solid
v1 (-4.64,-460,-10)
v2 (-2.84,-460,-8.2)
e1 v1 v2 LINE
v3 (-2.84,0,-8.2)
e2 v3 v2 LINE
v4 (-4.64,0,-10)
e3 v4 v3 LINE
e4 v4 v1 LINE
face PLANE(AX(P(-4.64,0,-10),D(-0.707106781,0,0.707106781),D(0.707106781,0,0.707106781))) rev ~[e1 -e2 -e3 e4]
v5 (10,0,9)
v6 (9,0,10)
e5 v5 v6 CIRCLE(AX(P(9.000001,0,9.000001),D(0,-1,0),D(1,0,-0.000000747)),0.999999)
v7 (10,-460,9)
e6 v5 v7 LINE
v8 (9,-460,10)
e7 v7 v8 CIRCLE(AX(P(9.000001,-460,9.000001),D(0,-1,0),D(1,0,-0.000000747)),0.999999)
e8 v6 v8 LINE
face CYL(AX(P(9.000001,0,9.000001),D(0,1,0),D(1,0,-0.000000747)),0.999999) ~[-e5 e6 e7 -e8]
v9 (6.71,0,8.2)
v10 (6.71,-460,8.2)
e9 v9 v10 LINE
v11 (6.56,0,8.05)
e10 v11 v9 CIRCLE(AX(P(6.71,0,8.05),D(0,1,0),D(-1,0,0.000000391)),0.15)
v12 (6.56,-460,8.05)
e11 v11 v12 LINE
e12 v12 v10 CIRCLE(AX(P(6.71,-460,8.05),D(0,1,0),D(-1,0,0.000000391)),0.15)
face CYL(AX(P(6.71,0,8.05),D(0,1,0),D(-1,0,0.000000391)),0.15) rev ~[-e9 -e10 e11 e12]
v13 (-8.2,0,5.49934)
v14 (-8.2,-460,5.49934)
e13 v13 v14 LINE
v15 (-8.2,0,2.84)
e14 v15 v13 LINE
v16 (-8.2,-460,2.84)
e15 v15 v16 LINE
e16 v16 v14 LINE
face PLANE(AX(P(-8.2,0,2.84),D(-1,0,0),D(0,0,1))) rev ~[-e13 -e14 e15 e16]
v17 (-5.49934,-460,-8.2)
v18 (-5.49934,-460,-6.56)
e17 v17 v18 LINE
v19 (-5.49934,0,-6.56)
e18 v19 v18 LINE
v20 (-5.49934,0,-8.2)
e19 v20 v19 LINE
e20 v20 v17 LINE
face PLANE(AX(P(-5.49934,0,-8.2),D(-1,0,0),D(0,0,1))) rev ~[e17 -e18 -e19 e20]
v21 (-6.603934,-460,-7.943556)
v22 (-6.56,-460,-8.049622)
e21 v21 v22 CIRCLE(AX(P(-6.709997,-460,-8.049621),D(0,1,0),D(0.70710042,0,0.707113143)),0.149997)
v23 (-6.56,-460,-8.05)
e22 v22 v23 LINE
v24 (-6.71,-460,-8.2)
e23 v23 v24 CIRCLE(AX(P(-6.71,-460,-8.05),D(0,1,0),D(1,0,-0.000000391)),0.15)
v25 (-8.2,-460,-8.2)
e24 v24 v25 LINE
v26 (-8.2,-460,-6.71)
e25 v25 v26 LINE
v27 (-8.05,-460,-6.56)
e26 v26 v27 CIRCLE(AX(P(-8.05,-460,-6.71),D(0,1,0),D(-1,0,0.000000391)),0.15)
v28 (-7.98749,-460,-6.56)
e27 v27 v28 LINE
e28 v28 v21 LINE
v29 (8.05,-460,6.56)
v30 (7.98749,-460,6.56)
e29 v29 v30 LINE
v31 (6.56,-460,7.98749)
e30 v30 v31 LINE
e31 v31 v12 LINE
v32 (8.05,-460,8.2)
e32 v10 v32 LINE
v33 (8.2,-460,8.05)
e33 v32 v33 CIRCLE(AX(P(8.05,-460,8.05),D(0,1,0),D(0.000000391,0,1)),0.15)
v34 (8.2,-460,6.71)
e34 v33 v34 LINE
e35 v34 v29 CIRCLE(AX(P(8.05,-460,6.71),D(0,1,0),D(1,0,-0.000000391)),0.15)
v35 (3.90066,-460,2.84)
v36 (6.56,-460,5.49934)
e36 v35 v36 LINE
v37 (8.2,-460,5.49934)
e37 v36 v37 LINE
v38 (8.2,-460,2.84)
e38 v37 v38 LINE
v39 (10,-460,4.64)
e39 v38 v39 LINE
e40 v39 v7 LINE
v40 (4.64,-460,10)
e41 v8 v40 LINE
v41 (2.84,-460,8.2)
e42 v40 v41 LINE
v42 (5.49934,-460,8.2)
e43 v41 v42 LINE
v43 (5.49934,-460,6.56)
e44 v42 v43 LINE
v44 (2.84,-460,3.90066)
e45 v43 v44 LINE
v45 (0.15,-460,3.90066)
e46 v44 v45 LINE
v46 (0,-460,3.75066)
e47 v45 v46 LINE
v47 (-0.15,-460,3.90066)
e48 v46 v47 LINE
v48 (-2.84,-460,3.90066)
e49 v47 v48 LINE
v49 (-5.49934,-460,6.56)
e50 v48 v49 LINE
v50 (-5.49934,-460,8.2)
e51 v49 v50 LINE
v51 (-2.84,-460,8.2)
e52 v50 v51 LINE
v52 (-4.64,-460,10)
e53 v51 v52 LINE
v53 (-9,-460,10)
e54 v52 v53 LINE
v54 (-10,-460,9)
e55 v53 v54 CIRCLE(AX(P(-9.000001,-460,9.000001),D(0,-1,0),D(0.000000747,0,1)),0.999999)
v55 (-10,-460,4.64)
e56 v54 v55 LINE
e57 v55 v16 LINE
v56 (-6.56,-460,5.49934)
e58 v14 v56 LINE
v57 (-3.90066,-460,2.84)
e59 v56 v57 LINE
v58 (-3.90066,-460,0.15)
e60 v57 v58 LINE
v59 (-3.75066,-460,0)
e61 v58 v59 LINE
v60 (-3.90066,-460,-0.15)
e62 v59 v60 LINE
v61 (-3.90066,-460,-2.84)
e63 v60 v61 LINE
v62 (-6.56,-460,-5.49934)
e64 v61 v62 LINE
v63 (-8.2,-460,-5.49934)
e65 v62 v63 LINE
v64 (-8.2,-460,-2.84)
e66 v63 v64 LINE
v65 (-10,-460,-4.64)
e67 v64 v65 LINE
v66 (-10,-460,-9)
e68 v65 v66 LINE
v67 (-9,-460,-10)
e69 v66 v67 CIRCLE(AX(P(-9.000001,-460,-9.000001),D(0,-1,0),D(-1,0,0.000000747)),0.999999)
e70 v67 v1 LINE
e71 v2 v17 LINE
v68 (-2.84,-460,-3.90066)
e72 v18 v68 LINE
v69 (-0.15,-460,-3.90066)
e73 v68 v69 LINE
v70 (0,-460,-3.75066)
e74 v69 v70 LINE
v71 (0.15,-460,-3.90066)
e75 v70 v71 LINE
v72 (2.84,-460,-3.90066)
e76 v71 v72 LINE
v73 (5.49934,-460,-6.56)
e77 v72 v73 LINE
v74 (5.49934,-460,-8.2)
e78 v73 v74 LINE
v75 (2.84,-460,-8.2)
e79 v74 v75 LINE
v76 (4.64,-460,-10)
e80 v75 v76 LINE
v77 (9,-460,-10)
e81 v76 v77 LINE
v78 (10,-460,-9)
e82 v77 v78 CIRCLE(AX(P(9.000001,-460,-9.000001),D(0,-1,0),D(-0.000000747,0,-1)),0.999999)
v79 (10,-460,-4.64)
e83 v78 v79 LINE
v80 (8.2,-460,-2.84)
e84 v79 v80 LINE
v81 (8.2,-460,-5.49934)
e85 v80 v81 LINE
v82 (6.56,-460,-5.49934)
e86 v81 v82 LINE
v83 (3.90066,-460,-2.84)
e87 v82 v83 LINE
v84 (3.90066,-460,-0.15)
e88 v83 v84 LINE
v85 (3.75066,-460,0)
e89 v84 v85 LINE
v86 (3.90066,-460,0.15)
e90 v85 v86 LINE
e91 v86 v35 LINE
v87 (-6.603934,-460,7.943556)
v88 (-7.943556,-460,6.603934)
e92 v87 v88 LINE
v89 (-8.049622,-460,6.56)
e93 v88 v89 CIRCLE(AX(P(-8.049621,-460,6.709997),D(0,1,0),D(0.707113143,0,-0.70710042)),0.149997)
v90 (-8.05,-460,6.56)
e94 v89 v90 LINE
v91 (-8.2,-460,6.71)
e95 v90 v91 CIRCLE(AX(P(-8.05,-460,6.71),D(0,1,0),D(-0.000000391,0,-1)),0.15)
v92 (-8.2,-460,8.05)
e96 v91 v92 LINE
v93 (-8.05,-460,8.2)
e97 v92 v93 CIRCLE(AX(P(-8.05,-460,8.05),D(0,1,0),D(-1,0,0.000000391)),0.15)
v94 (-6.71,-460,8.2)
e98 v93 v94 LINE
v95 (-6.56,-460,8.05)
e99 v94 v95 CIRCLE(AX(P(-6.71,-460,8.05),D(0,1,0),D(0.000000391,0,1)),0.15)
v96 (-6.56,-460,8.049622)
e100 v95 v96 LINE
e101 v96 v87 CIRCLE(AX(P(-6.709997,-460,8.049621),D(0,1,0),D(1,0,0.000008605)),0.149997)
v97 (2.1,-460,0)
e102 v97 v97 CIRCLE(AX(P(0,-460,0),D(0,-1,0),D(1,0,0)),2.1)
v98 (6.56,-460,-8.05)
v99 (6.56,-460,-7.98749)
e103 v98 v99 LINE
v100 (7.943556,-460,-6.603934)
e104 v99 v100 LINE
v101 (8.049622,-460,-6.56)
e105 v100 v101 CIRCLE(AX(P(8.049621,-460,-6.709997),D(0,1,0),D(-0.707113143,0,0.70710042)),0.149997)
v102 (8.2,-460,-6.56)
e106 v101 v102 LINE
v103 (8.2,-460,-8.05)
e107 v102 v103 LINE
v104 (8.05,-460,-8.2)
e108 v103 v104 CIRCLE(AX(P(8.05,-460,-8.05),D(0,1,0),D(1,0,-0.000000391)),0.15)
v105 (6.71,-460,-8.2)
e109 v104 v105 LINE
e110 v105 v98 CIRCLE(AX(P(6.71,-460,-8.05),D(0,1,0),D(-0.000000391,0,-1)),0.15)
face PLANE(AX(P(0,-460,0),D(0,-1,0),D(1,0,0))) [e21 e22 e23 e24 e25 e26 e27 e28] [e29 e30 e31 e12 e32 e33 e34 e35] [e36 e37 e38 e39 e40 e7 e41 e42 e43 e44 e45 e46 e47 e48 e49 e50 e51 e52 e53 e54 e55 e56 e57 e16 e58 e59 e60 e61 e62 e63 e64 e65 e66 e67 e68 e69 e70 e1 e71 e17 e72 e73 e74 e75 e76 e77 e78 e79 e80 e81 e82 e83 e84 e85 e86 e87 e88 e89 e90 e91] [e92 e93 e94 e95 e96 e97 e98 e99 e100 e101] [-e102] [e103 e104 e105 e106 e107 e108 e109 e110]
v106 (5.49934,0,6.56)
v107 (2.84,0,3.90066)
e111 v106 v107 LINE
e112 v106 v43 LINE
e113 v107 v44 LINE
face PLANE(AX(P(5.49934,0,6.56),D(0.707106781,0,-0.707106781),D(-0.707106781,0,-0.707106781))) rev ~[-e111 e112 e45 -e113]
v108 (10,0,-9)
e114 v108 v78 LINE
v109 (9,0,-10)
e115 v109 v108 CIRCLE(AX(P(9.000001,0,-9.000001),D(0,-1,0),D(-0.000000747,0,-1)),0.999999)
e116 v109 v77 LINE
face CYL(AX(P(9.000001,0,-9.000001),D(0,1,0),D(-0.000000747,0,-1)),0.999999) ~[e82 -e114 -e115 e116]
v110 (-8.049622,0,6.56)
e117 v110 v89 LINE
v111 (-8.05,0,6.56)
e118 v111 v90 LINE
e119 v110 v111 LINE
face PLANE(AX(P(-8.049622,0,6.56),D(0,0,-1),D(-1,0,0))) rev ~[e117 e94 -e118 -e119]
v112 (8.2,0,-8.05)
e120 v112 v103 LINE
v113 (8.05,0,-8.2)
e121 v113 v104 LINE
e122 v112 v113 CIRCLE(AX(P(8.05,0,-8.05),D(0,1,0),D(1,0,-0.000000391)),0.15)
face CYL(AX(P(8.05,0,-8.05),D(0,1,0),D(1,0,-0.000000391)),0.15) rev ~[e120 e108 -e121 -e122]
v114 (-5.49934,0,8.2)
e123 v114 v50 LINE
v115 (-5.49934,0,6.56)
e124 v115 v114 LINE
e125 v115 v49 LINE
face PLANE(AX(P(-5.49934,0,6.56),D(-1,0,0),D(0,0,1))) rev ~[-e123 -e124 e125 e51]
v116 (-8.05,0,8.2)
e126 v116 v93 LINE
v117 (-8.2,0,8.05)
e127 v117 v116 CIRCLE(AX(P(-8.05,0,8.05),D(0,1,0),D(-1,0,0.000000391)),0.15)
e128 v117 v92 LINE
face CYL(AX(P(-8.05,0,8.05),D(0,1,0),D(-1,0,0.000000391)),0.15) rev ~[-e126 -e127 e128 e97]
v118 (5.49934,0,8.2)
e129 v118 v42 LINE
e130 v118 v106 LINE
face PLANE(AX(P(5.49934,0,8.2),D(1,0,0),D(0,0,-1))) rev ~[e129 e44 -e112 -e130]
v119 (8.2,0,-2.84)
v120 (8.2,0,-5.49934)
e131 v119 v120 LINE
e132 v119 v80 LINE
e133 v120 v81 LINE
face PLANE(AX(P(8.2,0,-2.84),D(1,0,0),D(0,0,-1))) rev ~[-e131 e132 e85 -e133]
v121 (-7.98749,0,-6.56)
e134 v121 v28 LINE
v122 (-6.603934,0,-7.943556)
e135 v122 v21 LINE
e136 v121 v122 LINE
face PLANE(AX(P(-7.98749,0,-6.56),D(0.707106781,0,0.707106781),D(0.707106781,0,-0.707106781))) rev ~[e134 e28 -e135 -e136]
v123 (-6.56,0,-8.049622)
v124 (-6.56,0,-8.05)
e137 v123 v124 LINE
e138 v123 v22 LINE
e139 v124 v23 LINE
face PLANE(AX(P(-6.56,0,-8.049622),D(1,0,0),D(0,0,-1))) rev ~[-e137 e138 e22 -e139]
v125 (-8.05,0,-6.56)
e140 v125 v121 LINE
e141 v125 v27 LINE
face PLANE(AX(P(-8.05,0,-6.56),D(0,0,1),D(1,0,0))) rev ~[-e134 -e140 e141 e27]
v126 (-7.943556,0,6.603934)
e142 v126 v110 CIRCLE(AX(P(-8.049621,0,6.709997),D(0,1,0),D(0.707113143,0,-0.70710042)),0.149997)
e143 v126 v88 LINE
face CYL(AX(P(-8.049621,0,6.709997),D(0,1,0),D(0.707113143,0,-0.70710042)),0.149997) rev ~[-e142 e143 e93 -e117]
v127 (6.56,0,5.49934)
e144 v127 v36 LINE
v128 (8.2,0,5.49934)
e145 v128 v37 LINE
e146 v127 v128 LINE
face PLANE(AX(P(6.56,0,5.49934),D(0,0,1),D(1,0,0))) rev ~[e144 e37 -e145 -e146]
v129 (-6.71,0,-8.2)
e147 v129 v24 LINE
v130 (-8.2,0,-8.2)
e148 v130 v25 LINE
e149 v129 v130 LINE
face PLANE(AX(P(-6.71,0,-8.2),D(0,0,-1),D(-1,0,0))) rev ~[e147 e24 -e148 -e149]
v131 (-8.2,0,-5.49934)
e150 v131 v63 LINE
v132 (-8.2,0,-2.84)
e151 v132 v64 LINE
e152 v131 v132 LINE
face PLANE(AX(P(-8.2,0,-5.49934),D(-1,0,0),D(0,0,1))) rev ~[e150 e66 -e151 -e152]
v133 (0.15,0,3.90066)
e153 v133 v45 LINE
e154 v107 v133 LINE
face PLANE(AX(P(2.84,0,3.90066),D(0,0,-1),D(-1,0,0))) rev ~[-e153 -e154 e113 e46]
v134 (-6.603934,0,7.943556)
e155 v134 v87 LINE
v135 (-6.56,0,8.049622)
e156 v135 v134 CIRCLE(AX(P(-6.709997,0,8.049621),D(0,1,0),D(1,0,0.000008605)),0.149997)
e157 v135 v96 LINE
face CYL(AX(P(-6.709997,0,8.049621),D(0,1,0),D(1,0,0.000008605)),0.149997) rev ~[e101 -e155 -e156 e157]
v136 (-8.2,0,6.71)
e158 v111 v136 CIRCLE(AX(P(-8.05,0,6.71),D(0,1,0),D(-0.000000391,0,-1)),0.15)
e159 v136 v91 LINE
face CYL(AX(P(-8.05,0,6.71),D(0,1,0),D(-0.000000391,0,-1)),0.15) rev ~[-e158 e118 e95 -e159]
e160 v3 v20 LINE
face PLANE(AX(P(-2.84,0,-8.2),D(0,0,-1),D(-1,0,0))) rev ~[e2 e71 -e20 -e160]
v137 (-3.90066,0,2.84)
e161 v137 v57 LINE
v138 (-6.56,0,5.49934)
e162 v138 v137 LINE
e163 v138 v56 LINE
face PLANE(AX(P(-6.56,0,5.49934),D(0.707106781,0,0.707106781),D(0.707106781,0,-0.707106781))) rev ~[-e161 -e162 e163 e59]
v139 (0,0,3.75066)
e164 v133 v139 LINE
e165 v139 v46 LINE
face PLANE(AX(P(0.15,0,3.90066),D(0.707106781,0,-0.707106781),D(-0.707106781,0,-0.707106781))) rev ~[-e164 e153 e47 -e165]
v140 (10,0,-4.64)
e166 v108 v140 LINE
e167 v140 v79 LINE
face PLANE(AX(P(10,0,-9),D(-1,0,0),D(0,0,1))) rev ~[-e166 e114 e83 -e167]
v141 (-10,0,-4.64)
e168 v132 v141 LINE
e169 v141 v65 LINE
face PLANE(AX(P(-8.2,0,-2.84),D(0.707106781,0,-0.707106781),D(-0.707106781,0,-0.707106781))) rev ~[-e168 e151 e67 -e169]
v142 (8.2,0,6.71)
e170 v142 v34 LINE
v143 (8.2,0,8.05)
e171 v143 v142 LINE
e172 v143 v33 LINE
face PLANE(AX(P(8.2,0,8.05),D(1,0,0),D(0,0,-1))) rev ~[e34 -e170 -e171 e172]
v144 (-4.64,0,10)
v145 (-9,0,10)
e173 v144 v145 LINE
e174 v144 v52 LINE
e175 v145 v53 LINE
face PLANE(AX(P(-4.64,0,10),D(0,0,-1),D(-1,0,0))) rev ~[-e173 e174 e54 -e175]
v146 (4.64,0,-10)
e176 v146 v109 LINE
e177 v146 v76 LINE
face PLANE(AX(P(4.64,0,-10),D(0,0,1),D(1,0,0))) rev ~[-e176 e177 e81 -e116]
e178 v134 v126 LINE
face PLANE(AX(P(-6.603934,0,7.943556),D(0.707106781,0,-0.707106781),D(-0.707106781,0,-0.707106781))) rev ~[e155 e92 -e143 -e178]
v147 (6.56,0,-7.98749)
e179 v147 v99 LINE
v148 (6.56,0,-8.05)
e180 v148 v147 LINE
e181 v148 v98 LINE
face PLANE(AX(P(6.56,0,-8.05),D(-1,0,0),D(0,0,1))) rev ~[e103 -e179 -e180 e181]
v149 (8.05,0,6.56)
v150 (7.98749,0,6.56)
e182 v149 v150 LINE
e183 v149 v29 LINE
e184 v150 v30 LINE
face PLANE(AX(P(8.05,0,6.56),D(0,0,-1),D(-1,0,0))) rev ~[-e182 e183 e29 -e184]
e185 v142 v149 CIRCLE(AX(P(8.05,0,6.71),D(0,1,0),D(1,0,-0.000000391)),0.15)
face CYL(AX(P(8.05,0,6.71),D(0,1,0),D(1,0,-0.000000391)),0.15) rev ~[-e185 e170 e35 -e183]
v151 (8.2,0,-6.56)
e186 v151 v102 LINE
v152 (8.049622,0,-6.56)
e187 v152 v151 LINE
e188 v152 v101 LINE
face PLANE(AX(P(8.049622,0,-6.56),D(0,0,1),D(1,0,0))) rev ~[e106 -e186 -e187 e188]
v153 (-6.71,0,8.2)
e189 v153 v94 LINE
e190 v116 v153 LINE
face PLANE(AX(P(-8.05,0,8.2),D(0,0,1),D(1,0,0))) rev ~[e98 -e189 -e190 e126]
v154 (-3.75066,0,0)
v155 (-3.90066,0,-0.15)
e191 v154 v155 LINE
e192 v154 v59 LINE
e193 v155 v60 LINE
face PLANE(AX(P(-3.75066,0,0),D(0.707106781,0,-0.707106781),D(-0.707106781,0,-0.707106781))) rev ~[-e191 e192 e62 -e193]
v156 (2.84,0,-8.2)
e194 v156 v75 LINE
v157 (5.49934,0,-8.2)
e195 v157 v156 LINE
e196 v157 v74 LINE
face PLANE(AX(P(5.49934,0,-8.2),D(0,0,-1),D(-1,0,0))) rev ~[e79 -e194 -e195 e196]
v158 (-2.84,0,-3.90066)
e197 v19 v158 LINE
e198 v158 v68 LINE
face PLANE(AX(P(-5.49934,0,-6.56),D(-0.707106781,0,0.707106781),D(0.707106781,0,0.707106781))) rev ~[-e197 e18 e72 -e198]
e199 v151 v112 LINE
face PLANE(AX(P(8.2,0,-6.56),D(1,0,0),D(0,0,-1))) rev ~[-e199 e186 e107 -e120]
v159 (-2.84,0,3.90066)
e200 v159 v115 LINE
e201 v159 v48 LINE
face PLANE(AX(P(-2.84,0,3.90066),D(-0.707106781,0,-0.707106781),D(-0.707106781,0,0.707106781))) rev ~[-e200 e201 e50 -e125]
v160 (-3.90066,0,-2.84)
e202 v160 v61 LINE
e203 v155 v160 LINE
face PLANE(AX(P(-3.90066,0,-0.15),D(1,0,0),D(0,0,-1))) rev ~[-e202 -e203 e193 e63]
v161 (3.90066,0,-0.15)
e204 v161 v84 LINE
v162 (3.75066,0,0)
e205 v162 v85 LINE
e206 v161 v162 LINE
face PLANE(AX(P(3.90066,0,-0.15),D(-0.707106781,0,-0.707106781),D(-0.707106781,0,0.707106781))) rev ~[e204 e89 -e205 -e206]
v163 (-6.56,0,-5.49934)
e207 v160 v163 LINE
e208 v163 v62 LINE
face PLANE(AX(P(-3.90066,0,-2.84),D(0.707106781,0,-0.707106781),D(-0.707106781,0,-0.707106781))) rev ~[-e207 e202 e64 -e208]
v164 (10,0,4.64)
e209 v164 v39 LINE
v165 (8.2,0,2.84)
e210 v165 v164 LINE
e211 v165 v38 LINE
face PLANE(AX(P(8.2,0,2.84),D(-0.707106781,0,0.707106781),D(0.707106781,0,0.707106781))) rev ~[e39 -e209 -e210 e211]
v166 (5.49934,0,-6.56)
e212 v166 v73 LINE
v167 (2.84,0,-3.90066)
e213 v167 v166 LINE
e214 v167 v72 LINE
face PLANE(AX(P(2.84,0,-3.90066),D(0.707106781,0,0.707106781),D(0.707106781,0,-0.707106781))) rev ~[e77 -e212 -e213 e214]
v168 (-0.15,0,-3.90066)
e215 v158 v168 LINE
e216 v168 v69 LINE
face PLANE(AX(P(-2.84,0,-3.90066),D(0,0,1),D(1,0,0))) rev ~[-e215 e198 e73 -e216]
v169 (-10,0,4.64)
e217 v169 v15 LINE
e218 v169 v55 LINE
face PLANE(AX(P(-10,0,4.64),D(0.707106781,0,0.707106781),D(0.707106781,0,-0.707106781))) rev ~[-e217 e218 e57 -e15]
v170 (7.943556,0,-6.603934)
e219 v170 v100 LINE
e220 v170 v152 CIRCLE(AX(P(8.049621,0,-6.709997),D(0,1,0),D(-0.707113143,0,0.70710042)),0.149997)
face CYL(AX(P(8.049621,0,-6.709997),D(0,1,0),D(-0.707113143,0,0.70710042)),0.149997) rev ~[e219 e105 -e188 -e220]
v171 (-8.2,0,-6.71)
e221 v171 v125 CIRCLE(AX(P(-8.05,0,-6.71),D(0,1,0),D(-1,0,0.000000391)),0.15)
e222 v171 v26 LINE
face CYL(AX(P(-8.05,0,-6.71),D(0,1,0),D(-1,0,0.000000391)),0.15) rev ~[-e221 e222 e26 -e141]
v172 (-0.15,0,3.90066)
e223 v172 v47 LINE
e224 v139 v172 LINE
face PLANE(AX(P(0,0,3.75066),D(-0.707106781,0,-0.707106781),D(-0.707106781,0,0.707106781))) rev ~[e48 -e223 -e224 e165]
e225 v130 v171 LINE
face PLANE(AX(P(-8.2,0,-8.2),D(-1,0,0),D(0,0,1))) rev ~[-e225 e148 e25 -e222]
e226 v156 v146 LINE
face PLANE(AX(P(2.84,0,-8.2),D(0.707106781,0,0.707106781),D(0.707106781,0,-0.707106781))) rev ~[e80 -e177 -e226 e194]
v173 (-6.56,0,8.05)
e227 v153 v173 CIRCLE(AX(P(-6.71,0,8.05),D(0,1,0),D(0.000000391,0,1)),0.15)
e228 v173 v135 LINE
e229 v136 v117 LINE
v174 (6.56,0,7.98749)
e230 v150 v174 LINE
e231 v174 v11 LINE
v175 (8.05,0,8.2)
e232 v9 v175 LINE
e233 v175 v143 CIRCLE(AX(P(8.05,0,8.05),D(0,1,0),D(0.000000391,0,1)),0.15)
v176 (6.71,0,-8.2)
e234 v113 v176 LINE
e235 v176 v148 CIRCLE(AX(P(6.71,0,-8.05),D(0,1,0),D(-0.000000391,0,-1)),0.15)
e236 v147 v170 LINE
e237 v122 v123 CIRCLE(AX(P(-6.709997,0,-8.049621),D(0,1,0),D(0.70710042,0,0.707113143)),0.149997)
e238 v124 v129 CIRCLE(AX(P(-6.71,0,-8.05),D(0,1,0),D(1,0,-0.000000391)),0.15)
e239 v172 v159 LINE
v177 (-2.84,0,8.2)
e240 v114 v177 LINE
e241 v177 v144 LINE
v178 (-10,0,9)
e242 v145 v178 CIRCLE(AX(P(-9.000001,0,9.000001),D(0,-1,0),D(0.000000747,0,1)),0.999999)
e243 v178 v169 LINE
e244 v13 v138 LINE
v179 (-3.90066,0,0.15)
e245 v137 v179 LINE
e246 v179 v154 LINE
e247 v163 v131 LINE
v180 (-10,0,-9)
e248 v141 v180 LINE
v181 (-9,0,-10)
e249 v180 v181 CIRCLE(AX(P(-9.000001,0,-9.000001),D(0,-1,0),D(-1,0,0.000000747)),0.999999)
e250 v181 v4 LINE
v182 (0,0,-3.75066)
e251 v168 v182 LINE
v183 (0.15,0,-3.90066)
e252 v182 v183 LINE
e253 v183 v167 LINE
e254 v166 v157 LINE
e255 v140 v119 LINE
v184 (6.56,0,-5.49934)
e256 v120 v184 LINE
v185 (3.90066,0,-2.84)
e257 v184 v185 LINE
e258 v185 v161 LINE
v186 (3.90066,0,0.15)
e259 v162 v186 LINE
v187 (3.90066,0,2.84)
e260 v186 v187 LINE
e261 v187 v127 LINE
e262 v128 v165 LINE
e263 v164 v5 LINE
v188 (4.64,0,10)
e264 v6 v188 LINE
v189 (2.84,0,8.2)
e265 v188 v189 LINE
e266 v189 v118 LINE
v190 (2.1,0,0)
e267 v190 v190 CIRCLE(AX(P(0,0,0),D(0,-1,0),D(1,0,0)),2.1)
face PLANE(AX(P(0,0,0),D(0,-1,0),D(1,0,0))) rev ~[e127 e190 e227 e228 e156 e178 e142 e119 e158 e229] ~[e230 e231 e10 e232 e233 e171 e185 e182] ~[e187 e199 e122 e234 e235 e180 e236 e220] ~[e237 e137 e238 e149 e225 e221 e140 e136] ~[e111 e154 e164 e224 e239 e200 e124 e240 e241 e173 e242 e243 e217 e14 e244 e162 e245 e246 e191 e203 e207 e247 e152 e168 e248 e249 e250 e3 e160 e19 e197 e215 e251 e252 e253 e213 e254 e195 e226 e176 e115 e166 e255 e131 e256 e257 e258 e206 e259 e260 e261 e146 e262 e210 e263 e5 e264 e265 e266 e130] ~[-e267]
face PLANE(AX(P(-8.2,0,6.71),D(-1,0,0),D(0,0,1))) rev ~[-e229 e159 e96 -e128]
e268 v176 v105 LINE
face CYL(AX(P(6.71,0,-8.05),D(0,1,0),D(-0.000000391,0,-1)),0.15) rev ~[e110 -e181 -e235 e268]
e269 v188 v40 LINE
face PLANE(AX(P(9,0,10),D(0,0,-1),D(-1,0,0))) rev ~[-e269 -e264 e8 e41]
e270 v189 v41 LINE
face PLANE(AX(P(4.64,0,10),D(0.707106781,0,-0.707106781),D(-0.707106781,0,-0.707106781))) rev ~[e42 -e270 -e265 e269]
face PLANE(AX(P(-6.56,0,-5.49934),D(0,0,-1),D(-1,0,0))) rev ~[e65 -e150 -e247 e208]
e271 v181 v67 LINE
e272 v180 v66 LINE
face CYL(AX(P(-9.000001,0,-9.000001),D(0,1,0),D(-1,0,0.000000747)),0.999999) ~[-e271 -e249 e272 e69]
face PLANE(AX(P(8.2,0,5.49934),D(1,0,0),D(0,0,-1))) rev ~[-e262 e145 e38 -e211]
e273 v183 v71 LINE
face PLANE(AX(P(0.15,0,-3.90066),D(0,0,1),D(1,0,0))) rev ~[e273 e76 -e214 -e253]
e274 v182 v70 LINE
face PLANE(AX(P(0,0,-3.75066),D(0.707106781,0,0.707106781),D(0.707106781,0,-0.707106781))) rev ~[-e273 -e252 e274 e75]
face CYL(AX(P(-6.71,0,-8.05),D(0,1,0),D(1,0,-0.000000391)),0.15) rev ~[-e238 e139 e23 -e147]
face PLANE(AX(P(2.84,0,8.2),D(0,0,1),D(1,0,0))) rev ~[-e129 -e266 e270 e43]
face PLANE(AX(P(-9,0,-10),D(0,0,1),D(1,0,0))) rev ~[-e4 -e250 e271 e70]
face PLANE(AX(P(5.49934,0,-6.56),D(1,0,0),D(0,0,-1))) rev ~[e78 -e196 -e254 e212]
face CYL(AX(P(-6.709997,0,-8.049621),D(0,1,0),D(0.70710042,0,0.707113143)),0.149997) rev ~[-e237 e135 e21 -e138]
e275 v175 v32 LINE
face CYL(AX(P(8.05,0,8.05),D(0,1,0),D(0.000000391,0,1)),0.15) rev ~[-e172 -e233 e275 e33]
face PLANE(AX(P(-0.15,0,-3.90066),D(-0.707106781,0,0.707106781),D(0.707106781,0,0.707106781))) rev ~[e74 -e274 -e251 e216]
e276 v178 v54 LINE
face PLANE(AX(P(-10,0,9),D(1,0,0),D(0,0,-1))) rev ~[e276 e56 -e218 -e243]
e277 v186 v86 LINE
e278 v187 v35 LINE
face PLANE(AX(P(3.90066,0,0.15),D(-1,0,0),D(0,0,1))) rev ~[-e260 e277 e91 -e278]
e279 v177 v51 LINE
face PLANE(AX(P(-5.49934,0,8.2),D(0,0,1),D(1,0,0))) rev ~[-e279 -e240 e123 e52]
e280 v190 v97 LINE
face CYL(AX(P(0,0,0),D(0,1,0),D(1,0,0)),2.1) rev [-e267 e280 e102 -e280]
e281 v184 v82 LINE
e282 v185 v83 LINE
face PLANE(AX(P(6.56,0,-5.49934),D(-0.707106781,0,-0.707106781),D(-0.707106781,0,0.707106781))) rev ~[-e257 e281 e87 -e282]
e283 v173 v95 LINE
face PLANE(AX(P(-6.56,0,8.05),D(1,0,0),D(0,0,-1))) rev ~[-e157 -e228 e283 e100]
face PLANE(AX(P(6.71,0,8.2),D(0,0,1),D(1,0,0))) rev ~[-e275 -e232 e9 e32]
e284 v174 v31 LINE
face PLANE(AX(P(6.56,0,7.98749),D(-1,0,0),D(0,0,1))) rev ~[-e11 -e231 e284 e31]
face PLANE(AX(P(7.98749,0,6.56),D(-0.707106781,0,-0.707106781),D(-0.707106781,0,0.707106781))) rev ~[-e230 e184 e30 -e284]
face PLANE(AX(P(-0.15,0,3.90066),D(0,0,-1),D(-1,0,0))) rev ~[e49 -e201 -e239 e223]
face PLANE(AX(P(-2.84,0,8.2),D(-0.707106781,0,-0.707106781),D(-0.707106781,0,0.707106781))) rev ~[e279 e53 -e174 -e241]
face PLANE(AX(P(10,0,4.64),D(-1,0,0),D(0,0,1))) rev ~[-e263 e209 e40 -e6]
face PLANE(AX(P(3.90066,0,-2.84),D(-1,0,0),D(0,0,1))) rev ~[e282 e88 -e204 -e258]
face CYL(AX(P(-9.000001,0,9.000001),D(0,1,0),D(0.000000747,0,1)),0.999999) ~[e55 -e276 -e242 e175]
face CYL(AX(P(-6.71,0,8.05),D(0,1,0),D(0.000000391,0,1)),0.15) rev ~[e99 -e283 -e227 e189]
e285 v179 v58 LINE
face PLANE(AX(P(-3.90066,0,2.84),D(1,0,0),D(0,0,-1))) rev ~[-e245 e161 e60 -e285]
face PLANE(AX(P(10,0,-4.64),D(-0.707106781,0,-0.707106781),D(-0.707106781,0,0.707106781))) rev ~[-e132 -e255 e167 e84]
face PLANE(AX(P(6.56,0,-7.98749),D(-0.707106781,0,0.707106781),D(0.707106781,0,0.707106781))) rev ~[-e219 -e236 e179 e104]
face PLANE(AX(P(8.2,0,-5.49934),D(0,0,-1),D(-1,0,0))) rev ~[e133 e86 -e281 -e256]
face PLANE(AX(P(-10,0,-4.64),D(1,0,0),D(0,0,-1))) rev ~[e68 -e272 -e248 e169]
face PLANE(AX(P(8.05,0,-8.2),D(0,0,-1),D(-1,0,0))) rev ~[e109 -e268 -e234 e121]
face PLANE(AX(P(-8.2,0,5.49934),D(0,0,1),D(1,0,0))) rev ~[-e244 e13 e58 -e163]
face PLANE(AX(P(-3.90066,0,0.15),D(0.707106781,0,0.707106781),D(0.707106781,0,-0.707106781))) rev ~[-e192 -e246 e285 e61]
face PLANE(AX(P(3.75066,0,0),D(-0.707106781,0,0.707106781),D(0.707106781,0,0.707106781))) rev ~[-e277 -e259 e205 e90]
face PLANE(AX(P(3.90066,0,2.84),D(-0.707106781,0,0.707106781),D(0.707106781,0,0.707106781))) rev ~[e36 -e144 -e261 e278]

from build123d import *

# Parameters (mm, degrees)
F0_R     = 2.1
F1_DEPTH = 460


with BuildPart() as f1:
    # F0 (on Front) → F1 (new body)
    with BuildSketch(Plane.XZ):
        with BuildLine():
            Line((-4.64, 10), (-9, 10))
            ThreePointArc((-9, 10), (-9.707107, 9.707107), (-10, 9))
            Line((-10, 9), (-10, 4.64))
            Line((-10, 4.64), (-8.2, 2.84))
            Line((-8.2, 2.84), (-8.2, 5.49934))
            Line((-8.2, 5.49934), (-6.56, 5.49934))
            Line((-6.56, 5.49934), (-3.90066, 2.84))
            Line((-3.90066, 2.84), (-3.90066, 0.15))
            Line((-3.90066, 0.15), (-3.75066, 0))
            Line((-3.75066, 0), (-3.90066, -0.15))
            Line((-3.90066, -0.15), (-3.90066, -2.84))
            Line((-3.90066, -2.84), (-6.56, -5.49934))
            Line((-6.56, -5.49934), (-8.2, -5.49934))
            Line((-8.2, -5.49934), (-8.2, -2.84))
            Line((-8.2, -2.84), (-10, -4.64))
            Line((-10, -4.64), (-10, -9))
            ThreePointArc((-10, -9), (-9.707107, -9.707107), (-9, -10))
            Line((-9, -10), (-4.64, -10))
            Line((-4.64, -10), (-2.84, -8.2))
            Line((-2.84, -8.2), (-5.49934, -8.2))
            Line((-5.49934, -8.2), (-5.49934, -6.56))
            Line((-5.49934, -6.56), (-2.84, -3.90066))
            Line((-2.84, -3.90066), (-0.15, -3.90066))
            Line((-0.15, -3.90066), (0, -3.75066))
            Line((0, -3.75066), (0.15, -3.90066))
            Line((0.15, -3.90066), (2.84, -3.90066))
            Line((2.84, -3.90066), (5.49934, -6.56))
            Line((5.49934, -6.56), (5.49934, -8.2))
            Line((5.49934, -8.2), (2.84, -8.2))
            Line((2.84, -8.2), (4.64, -10))
            Line((4.64, -10), (9, -10))
            ThreePointArc((9, -10), (9.707107, -9.707107), (10, -9))
            Line((10, -9), (10, -4.64))
            Line((10, -4.64), (8.2, -2.84))
            Line((8.2, -2.84), (8.2, -5.49934))
            Line((8.2, -5.49934), (6.56, -5.49934))
            Line((6.56, -5.49934), (3.90066, -2.84))
            Line((3.90066, -2.84), (3.90066, -0.15))
            Line((3.90066, -0.15), (3.75066, 0))
            Line((3.75066, 0), (3.90066, 0.15))
            Line((3.90066, 0.15), (3.90066, 2.84))
            Line((3.90066, 2.84), (6.56, 5.49934))
            Line((6.56, 5.49934), (8.2, 5.49934))
            Line((8.2, 5.49934), (8.2, 2.84))
            Line((8.2, 2.84), (10, 4.64))
            Line((10, 4.64), (10, 9))
            ThreePointArc((10, 9), (9.707107, 9.707107), (9, 10))
            Line((9, 10), (4.64, 10))
            Line((4.64, 10), (2.84, 8.2))
            Line((2.84, 8.2), (5.49934, 8.2))
            Line((5.49934, 8.2), (5.49934, 6.56))
            Line((5.49934, 6.56), (2.84, 3.90066))
            Line((2.84, 3.90066), (0.15, 3.90066))
            Line((0.15, 3.90066), (0, 3.75066))
            Line((0, 3.75066), (-0.15, 3.90066))
            Line((-0.15, 3.90066), (-2.84, 3.90066))
            Line((-2.84, 3.90066), (-5.49934, 6.56))
            Line((-5.49934, 6.56), (-5.49934, 8.2))
            Line((-5.49934, 8.2), (-2.84, 8.2))
            Line((-2.84, 8.2), (-4.64, 10))
        make_face()
        with BuildLine():
            Line((-8.2, -8.2), (-8.2, -6.71))
            ThreePointArc((-8.2, -6.71), (-8.156066, -6.603934), (-8.05, -6.56))
            Line((-8.05, -6.56), (-7.98749, -6.56))
            Line((-7.98749, -6.56), (-6.603934, -7.943556))
            ThreePointArc((-6.603934, -7.943556), (-6.571418, -7.992219), (-6.56, -8.049622))
            Line((-6.56, -8.049622), (-6.56, -8.05))
            ThreePointArc((-6.56, -8.05), (-6.603934, -8.156066), (-6.71, -8.2))
            Line((-6.71, -8.2), (-8.2, -8.2))
        make_face(mode=Mode.SUBTRACT)
        with BuildLine():
            ThreePointArc((6.71, -8.2), (6.603934, -8.156066), (6.56, -8.05))
            Line((6.56, -8.05), (6.56, -7.98749))
            Line((6.56, -7.98749), (7.943556, -6.603934))
            ThreePointArc((7.943556, -6.603934), (7.992219, -6.571418), (8.049622, -6.56))
            Line((8.049622, -6.56), (8.2, -6.56))
            Line((8.2, -6.56), (8.2, -8.05))
            ThreePointArc((8.2, -8.05), (8.156066, -8.156066), (8.05, -8.2))
            Line((8.05, -8.2), (6.71, -8.2))
        make_face(mode=Mode.SUBTRACT)
        with BuildLine():
            ThreePointArc((-8.2, 8.05), (-8.156066, 8.156066), (-8.05, 8.2))
            Line((-8.05, 8.2), (-6.71, 8.2))
            ThreePointArc((-6.71, 8.2), (-6.603934, 8.156066), (-6.56, 8.05))
            Line((-6.56, 8.05), (-6.56, 8.049622))
            ThreePointArc((-6.56, 8.049622), (-6.571418, 7.992219), (-6.603934, 7.943556))
            Line((-6.603934, 7.943556), (-7.943556, 6.603934))
            ThreePointArc((-7.943556, 6.603934), (-7.992219, 6.571418), (-8.049622, 6.56))
            Line((-8.049622, 6.56), (-8.05, 6.56))
            ThreePointArc((-8.05, 6.56), (-8.156066, 6.603934), (-8.2, 6.71))
            Line((-8.2, 6.71), (-8.2, 8.05))
        make_face(mode=Mode.SUBTRACT)
        Circle(F0_R, mode=Mode.SUBTRACT)
        with BuildLine():
            Line((8.2, 8.05), (8.2, 6.71))
            ThreePointArc((8.2, 6.71), (8.156066, 6.603934), (8.05, 6.56))
            Line((8.05, 6.56), (7.98749, 6.56))
            Line((7.98749, 6.56), (6.56, 7.98749))
            Line((6.56, 7.98749), (6.56, 8.05))
            ThreePointArc((6.56, 8.05), (6.603934, 8.156066), (6.71, 8.2))
            Line((6.71, 8.2), (8.05, 8.2))
            ThreePointArc((8.05, 8.2), (8.156066, 8.156066), (8.2, 8.05))
        make_face(mode=Mode.SUBTRACT)
    extrude(amount=F1_DEPTH)


solid = f1.part
